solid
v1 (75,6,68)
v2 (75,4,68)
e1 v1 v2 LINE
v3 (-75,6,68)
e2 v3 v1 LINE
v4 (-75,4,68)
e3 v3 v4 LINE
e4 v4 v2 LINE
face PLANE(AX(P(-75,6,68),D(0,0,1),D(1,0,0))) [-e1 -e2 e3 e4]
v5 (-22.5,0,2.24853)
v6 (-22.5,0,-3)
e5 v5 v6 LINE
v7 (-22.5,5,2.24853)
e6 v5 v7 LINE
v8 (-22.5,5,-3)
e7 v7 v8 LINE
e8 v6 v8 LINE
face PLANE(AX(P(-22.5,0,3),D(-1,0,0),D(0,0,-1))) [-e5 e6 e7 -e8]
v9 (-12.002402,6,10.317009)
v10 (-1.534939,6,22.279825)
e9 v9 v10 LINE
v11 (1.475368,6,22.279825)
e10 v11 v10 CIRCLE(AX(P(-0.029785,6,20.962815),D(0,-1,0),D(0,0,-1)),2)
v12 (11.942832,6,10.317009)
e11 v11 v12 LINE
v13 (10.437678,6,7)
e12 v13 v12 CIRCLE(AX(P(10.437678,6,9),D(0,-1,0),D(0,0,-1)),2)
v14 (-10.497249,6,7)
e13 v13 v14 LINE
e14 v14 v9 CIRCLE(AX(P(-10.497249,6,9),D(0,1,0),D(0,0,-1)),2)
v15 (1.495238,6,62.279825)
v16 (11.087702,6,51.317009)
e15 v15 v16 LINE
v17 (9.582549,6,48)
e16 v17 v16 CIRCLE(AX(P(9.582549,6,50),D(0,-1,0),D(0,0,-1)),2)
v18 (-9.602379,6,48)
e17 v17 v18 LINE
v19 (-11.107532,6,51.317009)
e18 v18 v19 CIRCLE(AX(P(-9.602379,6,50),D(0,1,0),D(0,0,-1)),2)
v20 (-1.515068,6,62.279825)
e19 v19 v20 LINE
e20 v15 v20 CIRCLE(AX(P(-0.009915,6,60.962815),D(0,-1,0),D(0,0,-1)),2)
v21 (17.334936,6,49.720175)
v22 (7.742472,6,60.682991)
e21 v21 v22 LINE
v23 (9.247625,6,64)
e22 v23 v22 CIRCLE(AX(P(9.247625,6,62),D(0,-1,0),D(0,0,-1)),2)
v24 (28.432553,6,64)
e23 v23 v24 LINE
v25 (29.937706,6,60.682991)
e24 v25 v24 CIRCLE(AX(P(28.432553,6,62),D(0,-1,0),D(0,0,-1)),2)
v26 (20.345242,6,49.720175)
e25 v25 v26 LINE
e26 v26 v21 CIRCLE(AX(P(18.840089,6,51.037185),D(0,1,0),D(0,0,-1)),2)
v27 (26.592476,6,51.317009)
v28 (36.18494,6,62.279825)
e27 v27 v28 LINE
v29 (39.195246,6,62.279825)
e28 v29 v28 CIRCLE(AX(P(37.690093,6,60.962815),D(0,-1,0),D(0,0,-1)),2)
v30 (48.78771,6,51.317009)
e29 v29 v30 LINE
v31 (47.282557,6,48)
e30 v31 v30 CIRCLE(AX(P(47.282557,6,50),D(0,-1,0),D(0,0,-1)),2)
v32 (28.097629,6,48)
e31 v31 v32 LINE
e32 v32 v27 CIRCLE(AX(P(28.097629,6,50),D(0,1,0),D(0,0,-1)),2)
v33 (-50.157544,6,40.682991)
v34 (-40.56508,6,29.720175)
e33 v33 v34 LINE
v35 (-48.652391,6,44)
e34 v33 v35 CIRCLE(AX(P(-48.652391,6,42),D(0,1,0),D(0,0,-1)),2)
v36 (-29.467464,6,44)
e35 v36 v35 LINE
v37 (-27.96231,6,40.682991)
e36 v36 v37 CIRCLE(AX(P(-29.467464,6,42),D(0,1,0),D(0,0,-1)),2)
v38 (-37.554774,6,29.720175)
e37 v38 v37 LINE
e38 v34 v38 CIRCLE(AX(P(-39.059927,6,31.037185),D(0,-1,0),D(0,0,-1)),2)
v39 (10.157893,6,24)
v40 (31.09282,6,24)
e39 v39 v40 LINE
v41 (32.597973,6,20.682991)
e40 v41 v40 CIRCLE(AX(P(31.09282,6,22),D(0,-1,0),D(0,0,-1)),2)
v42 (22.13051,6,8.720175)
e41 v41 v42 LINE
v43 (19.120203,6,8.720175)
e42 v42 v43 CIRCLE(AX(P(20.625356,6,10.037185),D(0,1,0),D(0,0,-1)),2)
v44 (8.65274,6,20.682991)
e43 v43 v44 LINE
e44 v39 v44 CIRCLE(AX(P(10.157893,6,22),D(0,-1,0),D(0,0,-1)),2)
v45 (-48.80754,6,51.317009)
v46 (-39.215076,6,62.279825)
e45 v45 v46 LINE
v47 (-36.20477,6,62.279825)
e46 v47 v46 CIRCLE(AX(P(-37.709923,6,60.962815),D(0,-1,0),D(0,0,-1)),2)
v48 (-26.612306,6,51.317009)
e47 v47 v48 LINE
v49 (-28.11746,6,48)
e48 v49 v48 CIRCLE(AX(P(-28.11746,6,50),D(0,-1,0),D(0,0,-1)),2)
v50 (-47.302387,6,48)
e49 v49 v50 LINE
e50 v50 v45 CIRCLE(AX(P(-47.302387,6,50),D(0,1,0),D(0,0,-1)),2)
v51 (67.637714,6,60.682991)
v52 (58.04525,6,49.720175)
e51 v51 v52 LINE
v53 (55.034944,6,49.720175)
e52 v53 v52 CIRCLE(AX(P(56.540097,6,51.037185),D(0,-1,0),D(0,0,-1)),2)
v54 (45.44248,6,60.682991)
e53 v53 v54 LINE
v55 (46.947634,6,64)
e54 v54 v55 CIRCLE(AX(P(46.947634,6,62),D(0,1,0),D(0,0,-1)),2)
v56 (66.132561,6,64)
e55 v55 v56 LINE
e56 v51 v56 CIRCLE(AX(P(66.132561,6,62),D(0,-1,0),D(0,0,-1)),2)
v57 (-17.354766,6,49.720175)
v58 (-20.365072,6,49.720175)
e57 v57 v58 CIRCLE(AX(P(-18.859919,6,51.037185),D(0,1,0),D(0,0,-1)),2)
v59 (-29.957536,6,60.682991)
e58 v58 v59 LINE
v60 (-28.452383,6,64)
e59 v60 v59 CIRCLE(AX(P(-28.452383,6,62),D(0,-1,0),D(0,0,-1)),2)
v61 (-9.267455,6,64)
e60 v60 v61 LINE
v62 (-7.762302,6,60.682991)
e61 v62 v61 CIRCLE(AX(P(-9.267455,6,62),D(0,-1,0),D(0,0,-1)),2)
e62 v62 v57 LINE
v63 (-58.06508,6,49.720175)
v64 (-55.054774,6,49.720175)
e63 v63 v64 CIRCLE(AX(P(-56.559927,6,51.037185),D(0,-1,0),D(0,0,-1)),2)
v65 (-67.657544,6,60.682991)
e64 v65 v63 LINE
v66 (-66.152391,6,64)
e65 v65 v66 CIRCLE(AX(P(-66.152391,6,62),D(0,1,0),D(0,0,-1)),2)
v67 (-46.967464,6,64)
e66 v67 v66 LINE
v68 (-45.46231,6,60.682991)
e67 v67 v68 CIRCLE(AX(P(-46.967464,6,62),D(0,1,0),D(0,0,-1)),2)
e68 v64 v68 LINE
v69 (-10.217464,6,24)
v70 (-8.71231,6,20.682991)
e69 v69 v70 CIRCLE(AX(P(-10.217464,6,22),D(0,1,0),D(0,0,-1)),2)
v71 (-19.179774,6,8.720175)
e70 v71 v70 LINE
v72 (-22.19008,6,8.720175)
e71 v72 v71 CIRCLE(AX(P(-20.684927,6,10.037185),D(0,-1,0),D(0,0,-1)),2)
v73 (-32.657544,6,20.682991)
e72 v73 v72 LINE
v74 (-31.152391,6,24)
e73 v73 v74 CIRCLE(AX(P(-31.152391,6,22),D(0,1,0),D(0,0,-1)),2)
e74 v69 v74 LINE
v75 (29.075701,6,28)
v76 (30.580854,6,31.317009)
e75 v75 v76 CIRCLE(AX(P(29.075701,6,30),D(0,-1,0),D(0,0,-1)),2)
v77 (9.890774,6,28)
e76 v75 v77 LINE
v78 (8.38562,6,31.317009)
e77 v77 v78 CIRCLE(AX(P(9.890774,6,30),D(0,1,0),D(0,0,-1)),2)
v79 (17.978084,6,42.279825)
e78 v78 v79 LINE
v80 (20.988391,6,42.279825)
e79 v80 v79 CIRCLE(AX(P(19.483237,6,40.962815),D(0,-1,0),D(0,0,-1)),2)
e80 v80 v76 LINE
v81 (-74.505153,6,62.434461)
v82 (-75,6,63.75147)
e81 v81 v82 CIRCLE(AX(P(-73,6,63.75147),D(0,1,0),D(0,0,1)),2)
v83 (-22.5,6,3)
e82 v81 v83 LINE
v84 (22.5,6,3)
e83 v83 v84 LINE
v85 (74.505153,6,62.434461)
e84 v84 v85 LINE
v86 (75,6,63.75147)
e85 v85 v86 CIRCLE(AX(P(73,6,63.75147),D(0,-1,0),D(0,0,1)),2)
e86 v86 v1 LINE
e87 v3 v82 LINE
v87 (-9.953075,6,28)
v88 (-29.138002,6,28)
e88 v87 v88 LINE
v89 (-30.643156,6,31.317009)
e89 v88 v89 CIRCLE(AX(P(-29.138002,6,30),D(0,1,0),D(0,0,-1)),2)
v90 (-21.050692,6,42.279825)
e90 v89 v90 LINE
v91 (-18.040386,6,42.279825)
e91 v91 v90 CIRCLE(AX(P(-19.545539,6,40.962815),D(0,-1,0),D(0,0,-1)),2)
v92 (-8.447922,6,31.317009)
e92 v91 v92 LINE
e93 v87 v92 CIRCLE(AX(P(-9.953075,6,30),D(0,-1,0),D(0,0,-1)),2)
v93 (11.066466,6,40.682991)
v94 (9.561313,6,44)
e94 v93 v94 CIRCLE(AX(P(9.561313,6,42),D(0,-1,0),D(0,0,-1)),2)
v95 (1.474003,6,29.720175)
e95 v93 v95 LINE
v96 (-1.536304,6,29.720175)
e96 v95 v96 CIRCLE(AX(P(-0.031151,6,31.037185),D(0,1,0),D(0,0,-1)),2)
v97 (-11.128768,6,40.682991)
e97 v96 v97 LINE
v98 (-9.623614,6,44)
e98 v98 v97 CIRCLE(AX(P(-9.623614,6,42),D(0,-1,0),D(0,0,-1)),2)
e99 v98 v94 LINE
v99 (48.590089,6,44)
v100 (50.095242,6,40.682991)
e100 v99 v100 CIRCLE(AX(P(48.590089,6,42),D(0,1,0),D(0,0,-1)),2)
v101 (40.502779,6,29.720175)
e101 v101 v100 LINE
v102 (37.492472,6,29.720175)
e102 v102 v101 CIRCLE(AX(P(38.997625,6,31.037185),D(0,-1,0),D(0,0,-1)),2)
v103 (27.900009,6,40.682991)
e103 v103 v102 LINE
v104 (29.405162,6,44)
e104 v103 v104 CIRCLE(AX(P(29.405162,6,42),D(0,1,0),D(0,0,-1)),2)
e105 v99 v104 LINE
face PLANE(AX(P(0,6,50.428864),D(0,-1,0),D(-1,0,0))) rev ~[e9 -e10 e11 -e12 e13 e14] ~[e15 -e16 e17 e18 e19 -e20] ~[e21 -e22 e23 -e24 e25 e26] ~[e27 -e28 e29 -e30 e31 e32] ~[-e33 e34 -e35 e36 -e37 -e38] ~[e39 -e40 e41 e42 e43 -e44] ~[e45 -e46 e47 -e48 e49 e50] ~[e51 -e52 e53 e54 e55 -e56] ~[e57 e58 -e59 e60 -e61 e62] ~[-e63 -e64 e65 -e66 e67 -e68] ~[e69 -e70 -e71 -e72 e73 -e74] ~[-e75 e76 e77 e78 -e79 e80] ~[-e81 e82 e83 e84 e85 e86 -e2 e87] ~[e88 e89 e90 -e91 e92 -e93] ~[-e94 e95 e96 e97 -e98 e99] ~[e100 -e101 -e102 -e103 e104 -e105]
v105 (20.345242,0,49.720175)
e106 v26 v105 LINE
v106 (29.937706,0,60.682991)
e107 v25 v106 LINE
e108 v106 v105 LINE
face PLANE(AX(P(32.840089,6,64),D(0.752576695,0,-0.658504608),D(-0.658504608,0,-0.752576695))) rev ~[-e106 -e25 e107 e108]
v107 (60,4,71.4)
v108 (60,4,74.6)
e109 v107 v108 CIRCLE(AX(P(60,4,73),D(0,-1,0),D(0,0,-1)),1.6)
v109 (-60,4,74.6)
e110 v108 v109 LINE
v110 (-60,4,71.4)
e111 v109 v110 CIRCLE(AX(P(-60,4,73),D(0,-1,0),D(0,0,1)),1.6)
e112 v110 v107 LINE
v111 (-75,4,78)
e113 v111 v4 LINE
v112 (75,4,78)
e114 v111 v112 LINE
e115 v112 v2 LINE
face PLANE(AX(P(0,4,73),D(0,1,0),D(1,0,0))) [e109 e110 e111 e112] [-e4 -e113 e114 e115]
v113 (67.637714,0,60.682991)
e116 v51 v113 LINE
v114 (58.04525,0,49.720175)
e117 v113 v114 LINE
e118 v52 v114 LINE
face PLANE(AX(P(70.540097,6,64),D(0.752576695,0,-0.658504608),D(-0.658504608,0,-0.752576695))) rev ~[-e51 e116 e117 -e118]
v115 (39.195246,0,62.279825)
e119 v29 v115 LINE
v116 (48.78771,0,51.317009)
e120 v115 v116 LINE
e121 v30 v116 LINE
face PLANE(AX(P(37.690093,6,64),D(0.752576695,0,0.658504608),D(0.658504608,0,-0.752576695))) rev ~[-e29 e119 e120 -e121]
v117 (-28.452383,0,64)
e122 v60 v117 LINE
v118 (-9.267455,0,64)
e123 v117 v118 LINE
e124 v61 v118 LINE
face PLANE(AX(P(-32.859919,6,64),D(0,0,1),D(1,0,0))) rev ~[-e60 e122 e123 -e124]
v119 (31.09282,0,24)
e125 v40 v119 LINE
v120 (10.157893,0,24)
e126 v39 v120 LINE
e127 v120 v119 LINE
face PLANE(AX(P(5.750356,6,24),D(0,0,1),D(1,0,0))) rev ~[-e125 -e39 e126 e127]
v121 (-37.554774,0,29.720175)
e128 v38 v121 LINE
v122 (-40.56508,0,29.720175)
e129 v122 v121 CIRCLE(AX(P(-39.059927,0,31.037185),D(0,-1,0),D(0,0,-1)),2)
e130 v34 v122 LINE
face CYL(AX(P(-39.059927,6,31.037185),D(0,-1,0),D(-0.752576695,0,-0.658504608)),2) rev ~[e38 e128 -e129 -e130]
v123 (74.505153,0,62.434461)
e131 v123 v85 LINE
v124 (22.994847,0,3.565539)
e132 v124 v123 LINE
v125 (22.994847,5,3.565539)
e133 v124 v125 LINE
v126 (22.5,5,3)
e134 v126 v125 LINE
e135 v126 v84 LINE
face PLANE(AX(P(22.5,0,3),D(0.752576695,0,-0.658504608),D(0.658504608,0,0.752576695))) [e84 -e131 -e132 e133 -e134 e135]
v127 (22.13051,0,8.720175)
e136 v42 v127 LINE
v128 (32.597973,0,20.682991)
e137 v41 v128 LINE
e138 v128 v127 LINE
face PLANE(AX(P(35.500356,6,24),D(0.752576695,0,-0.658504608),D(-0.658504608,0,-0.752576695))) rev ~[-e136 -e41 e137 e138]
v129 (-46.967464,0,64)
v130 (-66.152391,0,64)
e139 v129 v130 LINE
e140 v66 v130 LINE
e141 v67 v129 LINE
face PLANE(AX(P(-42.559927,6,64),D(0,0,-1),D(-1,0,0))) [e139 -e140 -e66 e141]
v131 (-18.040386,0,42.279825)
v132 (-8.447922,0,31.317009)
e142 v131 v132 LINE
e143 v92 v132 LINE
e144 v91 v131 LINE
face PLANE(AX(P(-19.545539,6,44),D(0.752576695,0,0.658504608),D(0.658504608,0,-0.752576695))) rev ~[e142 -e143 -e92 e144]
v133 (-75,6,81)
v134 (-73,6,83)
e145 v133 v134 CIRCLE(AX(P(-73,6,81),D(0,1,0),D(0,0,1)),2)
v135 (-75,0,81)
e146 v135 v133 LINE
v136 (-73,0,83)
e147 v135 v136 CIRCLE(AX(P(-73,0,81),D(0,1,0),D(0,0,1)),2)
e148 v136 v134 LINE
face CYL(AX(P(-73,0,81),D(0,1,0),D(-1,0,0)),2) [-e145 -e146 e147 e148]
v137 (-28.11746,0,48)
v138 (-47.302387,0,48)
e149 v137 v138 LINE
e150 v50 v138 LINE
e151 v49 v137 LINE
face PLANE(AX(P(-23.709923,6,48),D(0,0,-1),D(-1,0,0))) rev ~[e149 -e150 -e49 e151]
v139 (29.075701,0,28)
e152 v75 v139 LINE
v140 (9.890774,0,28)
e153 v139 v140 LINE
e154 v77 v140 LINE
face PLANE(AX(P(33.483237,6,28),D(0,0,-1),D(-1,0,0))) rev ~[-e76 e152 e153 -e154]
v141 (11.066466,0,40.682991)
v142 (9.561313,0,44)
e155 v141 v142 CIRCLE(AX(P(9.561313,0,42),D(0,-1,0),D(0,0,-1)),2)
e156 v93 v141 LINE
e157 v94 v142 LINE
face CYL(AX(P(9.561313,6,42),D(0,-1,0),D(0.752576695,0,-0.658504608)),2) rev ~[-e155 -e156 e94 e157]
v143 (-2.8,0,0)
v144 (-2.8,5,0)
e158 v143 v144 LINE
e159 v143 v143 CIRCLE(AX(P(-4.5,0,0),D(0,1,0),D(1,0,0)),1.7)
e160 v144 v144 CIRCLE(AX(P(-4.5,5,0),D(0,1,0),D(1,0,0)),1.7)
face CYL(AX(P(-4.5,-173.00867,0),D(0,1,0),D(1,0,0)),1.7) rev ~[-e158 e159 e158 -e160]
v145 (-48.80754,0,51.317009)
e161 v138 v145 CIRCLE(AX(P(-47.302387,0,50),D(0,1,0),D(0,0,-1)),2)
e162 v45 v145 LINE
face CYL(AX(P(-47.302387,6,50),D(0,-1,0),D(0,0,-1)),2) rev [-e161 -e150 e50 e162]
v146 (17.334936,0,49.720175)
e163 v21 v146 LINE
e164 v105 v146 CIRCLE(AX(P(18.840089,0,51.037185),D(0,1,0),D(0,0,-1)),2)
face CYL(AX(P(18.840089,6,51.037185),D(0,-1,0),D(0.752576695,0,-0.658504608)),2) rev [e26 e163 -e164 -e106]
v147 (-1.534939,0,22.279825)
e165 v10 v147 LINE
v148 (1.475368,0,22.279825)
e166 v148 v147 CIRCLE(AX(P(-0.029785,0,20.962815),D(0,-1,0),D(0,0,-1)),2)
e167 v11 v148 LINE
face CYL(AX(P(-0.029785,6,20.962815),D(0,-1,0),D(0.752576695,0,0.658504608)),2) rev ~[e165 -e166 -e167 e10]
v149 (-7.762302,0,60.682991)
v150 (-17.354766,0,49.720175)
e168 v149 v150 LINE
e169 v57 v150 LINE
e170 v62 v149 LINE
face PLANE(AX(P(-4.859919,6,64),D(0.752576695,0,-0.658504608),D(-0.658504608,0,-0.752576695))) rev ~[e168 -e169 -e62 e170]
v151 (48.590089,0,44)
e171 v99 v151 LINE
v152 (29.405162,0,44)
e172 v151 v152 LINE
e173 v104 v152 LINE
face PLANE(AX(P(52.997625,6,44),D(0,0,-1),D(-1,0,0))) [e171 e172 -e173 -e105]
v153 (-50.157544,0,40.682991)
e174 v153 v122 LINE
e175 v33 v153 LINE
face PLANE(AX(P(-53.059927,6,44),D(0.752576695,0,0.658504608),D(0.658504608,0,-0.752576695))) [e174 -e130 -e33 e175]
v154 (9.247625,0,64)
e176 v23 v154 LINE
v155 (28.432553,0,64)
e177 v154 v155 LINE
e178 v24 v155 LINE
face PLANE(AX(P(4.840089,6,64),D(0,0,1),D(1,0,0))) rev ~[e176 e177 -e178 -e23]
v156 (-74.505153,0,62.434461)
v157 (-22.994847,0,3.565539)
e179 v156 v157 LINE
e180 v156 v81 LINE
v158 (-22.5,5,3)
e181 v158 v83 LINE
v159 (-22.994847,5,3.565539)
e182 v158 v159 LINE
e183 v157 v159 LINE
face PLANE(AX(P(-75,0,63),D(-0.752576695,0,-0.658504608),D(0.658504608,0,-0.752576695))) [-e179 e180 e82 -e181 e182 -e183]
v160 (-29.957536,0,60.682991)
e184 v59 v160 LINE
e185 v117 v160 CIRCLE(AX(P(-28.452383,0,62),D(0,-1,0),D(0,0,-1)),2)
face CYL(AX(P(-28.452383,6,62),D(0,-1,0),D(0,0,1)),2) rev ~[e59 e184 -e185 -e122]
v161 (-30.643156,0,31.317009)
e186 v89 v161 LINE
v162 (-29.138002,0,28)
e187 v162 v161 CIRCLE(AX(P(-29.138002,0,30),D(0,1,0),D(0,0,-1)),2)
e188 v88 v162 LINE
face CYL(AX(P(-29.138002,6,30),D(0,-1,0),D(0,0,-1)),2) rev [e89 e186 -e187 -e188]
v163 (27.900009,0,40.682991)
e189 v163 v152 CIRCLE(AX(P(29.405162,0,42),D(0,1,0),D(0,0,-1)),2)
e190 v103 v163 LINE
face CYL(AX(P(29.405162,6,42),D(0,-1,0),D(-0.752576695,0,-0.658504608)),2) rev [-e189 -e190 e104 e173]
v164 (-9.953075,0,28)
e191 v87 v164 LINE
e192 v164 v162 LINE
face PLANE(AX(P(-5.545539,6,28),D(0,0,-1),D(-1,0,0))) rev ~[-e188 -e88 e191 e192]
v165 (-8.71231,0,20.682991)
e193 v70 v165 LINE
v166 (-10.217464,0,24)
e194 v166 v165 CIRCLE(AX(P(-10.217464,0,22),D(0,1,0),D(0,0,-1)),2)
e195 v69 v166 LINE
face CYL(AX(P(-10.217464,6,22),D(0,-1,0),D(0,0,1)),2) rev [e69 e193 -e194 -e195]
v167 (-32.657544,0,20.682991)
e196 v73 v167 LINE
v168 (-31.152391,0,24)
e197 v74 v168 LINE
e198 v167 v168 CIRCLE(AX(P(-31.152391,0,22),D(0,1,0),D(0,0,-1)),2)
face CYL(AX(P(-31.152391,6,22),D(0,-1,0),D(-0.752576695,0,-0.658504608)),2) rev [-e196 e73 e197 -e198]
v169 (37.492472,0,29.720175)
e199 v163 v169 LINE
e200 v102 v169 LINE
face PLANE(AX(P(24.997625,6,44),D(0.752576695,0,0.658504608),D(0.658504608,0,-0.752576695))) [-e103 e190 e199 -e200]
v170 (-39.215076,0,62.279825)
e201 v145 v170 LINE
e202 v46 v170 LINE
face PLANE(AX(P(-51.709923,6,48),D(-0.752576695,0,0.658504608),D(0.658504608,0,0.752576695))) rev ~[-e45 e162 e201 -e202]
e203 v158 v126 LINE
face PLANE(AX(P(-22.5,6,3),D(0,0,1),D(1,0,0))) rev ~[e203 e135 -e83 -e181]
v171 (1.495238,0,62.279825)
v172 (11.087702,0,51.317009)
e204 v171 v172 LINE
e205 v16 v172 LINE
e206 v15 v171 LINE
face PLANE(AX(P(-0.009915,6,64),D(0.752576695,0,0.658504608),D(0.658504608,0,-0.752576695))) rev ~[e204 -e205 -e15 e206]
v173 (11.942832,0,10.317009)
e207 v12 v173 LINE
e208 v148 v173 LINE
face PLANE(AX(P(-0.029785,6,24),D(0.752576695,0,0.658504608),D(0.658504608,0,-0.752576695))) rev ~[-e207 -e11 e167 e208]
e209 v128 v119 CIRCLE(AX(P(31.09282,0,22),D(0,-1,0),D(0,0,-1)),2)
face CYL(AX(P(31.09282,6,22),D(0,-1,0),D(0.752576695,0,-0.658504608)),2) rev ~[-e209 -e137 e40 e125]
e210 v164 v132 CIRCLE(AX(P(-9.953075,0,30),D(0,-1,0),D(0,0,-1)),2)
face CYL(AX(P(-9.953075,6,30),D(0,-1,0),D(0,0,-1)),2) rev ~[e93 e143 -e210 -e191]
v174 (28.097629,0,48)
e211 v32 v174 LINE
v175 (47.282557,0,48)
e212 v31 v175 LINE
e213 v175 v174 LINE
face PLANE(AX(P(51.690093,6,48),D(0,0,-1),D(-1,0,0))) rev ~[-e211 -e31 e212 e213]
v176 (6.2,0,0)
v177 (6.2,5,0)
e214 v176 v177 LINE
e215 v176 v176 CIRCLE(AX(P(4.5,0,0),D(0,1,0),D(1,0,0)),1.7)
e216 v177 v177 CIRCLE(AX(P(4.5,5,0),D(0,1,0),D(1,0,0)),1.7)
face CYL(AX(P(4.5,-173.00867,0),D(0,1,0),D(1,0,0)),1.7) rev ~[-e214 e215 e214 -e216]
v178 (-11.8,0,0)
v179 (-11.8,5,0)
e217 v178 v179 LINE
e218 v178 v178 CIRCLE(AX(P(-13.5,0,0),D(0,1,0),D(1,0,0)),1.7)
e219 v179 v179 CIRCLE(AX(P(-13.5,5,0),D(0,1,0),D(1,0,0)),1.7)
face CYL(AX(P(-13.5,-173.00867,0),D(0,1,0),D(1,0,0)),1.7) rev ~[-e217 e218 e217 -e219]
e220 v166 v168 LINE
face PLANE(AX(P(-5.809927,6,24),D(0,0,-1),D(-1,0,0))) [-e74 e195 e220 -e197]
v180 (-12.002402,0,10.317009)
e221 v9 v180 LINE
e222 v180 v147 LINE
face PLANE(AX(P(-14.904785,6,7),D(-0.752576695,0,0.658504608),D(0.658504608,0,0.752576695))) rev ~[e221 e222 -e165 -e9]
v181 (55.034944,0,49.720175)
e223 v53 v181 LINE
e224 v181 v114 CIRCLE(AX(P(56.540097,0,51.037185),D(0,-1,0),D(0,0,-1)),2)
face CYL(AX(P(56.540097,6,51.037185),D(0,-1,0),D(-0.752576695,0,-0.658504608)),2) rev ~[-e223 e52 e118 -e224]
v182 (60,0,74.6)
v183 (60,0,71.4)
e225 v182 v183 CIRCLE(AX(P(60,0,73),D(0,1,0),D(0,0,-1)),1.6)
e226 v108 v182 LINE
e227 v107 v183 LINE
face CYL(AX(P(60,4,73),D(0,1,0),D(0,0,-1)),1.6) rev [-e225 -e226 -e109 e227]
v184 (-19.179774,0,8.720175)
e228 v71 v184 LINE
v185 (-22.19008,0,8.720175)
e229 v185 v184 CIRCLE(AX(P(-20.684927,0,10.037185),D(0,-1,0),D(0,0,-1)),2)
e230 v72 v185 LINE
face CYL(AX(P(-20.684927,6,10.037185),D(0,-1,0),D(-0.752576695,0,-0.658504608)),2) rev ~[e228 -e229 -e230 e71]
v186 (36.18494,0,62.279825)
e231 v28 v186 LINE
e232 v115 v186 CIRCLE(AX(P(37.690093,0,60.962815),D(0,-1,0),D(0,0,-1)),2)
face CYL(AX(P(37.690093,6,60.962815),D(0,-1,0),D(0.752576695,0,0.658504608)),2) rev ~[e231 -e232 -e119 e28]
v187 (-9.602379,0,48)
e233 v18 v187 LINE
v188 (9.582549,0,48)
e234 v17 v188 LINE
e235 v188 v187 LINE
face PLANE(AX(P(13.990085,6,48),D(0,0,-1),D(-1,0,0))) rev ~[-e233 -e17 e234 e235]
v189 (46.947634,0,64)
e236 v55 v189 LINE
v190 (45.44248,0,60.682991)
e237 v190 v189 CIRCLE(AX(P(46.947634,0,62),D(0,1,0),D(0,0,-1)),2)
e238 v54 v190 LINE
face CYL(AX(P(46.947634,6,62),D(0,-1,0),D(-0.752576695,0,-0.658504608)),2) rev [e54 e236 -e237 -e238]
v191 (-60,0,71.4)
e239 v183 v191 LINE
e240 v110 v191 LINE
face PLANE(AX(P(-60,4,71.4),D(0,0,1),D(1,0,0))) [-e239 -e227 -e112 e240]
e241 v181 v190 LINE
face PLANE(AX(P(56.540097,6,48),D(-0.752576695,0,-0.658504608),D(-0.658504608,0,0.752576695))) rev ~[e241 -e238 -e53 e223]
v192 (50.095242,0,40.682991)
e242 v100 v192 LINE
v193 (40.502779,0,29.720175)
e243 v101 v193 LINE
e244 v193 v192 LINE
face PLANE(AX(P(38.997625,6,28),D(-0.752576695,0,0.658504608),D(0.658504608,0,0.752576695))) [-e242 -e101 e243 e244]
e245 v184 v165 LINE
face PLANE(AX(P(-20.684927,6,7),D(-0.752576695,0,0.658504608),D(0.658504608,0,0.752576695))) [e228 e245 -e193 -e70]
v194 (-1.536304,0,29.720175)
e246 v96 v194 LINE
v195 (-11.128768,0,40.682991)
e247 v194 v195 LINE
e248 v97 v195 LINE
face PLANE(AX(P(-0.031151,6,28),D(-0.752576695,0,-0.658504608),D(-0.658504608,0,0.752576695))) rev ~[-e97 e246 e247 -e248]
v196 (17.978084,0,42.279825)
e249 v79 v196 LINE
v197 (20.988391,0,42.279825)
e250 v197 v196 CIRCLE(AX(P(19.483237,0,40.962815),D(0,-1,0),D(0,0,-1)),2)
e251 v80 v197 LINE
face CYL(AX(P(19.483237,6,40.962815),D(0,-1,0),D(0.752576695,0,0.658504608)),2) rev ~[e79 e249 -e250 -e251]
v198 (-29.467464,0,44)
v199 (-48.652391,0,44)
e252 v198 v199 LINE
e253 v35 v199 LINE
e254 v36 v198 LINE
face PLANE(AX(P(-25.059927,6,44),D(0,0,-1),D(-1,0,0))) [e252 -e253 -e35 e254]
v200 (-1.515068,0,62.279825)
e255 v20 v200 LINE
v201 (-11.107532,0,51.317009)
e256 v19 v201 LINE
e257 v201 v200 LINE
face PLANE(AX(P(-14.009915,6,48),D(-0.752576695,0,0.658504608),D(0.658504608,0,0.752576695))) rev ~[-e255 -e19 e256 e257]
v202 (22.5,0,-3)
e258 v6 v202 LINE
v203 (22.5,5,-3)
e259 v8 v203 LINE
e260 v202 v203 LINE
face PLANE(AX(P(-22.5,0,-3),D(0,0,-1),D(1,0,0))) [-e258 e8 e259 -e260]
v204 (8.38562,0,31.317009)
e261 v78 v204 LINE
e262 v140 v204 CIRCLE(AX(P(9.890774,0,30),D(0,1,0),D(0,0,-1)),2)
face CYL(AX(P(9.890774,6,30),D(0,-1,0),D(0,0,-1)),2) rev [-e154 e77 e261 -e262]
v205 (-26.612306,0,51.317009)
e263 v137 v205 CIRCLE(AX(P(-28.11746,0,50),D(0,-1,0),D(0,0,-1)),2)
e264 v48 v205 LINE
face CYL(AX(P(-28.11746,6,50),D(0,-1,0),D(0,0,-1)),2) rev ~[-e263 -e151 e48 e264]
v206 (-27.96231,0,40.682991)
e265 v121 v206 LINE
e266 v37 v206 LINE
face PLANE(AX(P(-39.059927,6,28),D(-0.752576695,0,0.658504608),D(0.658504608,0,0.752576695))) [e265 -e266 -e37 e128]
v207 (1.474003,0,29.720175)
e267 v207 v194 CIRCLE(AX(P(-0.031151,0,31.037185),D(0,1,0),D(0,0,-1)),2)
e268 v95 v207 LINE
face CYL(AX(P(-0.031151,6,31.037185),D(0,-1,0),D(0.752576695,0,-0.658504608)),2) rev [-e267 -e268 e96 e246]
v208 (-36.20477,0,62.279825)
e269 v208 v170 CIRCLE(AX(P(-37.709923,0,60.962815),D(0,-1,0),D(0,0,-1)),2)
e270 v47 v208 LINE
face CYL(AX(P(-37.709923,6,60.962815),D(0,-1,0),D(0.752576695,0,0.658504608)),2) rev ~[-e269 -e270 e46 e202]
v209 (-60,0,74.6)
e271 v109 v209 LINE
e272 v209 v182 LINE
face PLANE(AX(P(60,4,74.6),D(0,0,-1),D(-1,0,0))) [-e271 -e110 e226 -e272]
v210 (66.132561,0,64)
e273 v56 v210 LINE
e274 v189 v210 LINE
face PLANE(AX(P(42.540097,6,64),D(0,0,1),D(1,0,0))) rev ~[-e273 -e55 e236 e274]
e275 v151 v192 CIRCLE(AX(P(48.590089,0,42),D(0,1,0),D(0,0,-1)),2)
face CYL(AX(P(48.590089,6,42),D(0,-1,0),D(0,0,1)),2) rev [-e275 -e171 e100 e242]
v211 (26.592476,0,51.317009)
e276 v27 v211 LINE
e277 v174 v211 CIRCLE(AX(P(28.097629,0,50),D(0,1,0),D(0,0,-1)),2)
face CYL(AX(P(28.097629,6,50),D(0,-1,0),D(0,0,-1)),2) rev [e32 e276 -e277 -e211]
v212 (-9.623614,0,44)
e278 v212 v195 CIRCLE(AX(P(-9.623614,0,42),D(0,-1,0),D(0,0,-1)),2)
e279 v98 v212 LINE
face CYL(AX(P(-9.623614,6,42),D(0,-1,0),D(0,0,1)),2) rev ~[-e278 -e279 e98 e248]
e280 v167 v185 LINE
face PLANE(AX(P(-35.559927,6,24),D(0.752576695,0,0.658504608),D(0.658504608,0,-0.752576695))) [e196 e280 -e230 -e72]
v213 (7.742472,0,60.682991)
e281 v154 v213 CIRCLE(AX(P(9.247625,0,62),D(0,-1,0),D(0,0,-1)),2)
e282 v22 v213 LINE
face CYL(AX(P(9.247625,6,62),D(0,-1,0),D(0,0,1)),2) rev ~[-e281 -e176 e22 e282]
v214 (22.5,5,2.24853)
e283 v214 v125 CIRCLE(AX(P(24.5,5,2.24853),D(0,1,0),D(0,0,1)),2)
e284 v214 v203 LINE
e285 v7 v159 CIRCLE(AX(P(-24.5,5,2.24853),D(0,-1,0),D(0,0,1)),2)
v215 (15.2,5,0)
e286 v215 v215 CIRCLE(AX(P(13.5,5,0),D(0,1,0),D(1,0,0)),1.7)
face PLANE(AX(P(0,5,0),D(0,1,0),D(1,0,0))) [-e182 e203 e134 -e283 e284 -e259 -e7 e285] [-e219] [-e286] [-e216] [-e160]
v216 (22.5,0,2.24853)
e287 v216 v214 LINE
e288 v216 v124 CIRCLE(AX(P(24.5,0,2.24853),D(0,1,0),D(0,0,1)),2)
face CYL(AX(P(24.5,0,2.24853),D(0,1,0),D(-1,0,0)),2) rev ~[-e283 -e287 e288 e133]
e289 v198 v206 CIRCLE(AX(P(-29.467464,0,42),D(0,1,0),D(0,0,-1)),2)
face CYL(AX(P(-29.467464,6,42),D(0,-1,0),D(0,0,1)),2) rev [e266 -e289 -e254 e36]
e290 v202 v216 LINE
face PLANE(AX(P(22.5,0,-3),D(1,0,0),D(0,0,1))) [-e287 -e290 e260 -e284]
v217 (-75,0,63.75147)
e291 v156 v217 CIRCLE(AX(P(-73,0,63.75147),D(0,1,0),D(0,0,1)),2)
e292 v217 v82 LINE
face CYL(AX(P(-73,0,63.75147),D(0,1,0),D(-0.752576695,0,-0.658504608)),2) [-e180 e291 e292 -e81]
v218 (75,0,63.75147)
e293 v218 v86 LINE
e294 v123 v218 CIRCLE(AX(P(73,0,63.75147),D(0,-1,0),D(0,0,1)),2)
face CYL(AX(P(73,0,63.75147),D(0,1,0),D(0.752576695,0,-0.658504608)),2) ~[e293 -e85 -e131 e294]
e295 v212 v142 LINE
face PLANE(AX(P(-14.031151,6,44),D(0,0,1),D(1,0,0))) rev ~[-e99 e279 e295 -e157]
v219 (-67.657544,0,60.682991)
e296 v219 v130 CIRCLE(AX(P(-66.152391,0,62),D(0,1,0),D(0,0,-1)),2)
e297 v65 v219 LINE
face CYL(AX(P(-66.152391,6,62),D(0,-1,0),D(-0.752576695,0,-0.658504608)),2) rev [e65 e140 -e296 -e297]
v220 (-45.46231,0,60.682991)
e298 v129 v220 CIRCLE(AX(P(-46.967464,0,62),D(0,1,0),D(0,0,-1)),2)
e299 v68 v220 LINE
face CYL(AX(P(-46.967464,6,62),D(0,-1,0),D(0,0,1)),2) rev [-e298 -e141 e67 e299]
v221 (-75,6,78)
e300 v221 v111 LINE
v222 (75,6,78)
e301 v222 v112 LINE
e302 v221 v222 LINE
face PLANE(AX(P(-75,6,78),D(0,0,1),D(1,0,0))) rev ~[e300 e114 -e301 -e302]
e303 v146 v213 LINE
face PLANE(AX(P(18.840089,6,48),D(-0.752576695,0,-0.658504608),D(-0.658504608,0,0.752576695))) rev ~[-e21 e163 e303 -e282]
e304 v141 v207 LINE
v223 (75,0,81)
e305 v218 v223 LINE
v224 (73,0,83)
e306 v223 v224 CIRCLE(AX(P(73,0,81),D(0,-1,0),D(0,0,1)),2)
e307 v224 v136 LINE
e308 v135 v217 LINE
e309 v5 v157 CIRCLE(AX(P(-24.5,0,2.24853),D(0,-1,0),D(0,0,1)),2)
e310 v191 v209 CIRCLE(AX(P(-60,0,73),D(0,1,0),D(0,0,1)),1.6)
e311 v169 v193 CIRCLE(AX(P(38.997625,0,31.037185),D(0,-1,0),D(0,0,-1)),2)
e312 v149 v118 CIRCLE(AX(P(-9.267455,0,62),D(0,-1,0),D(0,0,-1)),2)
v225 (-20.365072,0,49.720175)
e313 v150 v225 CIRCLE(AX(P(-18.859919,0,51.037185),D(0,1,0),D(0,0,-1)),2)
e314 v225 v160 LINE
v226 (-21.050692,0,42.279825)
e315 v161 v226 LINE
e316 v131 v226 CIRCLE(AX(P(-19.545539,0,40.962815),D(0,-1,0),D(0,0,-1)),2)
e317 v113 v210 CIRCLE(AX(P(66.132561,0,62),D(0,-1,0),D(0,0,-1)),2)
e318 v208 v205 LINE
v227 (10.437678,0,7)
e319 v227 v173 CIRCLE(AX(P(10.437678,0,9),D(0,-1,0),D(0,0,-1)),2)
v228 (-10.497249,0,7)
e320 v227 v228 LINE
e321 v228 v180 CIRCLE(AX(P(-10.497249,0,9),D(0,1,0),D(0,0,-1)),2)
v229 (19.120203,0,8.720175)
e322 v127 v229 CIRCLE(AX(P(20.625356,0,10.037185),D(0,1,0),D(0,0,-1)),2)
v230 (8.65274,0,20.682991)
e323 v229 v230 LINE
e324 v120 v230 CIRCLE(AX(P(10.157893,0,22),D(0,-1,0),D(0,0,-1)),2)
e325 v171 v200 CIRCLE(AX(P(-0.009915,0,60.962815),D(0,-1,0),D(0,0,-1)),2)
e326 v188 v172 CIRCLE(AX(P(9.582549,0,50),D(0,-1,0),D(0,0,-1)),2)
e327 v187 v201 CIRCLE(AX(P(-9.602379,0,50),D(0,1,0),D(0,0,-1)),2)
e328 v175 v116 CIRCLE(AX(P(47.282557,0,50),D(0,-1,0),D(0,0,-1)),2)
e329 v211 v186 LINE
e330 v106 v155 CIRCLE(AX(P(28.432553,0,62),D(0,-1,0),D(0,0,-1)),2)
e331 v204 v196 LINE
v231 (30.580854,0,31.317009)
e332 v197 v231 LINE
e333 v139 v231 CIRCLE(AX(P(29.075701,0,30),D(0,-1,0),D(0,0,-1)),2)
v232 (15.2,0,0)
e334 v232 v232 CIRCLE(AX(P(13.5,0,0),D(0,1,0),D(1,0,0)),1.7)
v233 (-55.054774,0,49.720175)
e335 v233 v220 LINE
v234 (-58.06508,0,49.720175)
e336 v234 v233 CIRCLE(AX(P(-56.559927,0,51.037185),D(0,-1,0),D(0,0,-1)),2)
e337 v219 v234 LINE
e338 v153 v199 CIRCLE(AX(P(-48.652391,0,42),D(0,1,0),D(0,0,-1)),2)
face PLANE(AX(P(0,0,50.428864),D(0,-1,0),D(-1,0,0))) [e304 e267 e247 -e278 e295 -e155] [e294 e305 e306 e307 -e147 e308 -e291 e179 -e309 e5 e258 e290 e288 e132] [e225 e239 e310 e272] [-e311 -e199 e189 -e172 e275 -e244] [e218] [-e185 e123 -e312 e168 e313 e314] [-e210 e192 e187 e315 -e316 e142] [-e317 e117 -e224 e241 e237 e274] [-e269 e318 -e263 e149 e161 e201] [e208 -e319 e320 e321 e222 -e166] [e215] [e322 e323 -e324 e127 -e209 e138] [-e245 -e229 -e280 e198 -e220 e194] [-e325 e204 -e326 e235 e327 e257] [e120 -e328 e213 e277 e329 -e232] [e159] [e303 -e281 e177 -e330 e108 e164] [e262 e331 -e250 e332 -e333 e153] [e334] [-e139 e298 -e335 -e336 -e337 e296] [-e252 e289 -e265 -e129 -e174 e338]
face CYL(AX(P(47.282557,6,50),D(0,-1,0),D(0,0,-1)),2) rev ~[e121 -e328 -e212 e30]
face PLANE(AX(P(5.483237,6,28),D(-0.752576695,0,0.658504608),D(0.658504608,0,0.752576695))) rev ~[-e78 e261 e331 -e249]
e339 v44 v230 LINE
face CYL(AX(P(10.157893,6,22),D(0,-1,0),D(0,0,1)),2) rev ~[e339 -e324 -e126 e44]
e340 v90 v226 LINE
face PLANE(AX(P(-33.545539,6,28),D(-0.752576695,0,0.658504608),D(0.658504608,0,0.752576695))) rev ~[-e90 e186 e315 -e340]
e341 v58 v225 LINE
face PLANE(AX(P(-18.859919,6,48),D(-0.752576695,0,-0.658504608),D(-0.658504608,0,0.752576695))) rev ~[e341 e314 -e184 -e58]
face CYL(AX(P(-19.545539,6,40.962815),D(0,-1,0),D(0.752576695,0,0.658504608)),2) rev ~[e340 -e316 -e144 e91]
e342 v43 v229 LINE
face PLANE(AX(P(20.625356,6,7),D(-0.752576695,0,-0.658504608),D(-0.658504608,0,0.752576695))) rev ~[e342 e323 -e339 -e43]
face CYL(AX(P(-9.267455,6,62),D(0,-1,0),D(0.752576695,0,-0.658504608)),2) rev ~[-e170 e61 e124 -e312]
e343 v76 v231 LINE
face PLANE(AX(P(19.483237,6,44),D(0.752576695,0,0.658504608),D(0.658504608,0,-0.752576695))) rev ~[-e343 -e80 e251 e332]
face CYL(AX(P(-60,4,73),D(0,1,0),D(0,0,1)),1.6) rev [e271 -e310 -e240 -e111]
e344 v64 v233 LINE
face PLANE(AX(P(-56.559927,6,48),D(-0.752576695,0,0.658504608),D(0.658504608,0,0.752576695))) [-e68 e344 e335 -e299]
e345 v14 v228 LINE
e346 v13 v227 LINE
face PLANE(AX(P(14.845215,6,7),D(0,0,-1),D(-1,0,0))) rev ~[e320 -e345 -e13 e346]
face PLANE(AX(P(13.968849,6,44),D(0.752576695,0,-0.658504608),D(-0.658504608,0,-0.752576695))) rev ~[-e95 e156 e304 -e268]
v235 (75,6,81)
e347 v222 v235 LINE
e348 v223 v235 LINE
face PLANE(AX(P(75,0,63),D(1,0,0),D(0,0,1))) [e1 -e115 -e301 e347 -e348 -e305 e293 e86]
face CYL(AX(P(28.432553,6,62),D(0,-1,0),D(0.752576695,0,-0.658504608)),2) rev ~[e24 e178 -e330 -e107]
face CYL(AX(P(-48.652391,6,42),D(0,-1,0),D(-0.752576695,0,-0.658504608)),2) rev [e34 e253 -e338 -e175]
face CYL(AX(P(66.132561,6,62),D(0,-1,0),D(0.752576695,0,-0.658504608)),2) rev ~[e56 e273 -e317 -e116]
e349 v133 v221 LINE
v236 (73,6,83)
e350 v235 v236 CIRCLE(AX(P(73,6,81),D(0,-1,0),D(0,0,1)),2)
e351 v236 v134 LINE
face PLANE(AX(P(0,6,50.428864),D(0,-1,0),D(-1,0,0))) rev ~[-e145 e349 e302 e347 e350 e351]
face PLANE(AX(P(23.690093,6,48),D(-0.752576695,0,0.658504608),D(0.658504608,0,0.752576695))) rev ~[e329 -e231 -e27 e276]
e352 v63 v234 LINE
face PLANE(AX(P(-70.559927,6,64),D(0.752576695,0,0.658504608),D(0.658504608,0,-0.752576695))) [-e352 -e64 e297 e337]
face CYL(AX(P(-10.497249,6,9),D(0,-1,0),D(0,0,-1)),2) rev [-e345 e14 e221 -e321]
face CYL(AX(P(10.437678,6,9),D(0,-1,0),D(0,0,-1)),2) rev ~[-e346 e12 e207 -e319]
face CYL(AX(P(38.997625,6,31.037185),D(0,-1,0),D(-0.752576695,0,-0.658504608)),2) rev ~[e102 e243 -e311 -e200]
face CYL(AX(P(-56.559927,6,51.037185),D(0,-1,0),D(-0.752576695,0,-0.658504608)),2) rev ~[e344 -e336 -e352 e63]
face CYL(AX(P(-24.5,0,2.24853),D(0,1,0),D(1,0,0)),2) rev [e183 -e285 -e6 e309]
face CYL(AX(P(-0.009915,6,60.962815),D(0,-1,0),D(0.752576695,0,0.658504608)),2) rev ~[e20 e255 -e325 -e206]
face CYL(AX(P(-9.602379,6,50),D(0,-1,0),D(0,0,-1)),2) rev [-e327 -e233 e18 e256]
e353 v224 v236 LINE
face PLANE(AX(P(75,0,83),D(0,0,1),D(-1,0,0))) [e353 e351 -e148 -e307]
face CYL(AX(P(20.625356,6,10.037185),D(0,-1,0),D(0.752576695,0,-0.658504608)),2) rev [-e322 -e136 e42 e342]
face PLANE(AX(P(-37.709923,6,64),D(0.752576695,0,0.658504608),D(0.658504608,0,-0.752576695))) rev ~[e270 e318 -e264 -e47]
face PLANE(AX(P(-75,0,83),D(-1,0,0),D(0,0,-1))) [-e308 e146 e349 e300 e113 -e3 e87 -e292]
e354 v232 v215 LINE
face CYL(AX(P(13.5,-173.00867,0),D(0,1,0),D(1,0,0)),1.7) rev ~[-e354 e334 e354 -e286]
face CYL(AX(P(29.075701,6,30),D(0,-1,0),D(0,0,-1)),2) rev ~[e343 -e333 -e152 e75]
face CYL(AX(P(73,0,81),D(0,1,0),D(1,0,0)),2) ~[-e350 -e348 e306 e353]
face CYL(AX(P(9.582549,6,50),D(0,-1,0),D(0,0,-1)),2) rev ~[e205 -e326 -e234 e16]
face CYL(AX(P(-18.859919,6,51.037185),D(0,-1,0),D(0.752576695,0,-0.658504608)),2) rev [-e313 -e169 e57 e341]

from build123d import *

# Parameters (mm, degrees)
EXTRUDE_1_DEPTH     = 6
SKETCH_2_W          = 150
SKETCH_2_H          = 10
CUT_EXTRUDE_1_DEPTH = 2
SKETCH_3_W          = 45
SKETCH_3_H          = 6
CUT_EXTRUDE_2_DEPTH = 1
HOLE_WIZARD_M31_D   = 3.4
CUT_EXTRUDE_3_DEPTH = 112.937482552
CUT_EXTRUDE_4_REACH = 114.027
FILLET_1_R          = 2


with BuildPart() as part:
    # Эскиз1 → Бобышка-Вытянуть1 (new body)
    with BuildSketch(Plane(origin=(0, 0, 0), x_dir=(1, 0, 0), z_dir=(0, 1, 0))):
        Polygon((-22.5, 3), (22.5, 3), (22.5, -3), (75, -63), (75, -83), (-75, -83), (-75, -63), (-22.5, -3), align=None)
    extrude(amount=EXTRUDE_1_DEPTH)

    # Эскиз2 → Вырез-Вытянуть1 (cut)
    with BuildSketch(Plane(origin=(0, 6, 0), x_dir=(1, 0, 0), z_dir=(0, 1, 0))):
        with Locations((0, -73)):
            Rectangle(SKETCH_2_W, SKETCH_2_H)
    extrude(amount=-CUT_EXTRUDE_1_DEPTH, mode=Mode.SUBTRACT)

    # Эскиз3 → Вырез-Вытянуть2 (cut)
    with BuildSketch(Plane(origin=(0, 6, 0), x_dir=(1, 0, 0), z_dir=(0, 1, 0))):
        Rectangle(SKETCH_3_W, SKETCH_3_H)
    extrude(amount=-CUT_EXTRUDE_2_DEPTH, mode=Mode.SUBTRACT)

    # Отверстие с зазором M31 (through all)
    with Locations(Plane(origin=(0, 0, 0), x_dir=(-1, 0, 0), z_dir=(0, -1, 0))):
        with Locations((-13.5, 0), (-4.5, 0), (4.5, 0), (13.5, 0)):
            Hole(HOLE_WIZARD_M31_D / 2)

    # Эскиз9 → Вырез-Вытянуть3 (cut, through all)
    with BuildSketch(Plane(origin=(0, 4, 0), x_dir=(1, 0, 0), z_dir=(0, 1, 0))):
        with BuildLine():
            Line((-60, -71.4), (60, -71.4))
            ThreePointArc((60, -71.4), (61.6, -73), (60, -74.6))
            Line((60, -74.6), (-60, -74.6))
            ThreePointArc((-60, -74.6), (-61.6, -73), (-60, -71.4))
        make_face()
    extrude(amount=-CUT_EXTRUDE_3_DEPTH, mode=Mode.SUBTRACT)

    # Эскиз10 → Вырез-Вытянуть4 (cut, up to next)
    with BuildSketch(Plane(origin=(0, 6, 0), x_dir=(1, 0, 0), z_dir=(0, 1, 0)), mode=Mode.PRIVATE) as cut_extrude_4_sk1:
        Polygon((-70.559927094, -64), (-56.559927094, -48), (-42.559927094, -64), align=None)
    cut_extrude_4_tool1 = extrude(cut_extrude_4_sk1.sketch, amount=-CUT_EXTRUDE_4_REACH, mode=Mode.PRIVATE) & part.part
    # Эскиз10 → Вырез-Вытянуть4 (cut, up to next)
    with BuildSketch(Plane(origin=(0, 6, 0), x_dir=(1, 0, 0), z_dir=(0, 1, 0)), mode=Mode.PRIVATE) as cut_extrude_4_sk2:
        Polygon((-51.709923067, -48), (-37.709923067, -64), (-23.709923067, -48), align=None)
    cut_extrude_4_tool2 = extrude(cut_extrude_4_sk2.sketch, amount=-CUT_EXTRUDE_4_REACH, mode=Mode.PRIVATE) & part.part
    # Эскиз10 → Вырез-Вытянуть4 (cut, up to next)
    with BuildSketch(Plane(origin=(0, 6, 0), x_dir=(1, 0, 0), z_dir=(0, 1, 0)), mode=Mode.PRIVATE) as cut_extrude_4_sk3:
        Polygon((-18.85991904, -48), (-32.85991904, -64), (-4.85991904, -64), align=None)
    cut_extrude_4_tool3 = extrude(cut_extrude_4_sk3.sketch, amount=-CUT_EXTRUDE_4_REACH, mode=Mode.PRIVATE) & part.part
    # Эскиз10 → Вырез-Вытянуть4 (cut, up to next)
    with BuildSketch(Plane(origin=(0, 6, 0), x_dir=(1, 0, 0), z_dir=(0, 1, 0)), mode=Mode.PRIVATE) as cut_extrude_4_sk4:
        Polygon((-14.009915012, -48), (-0.009915012, -64), (13.990084988, -48), align=None)
    cut_extrude_4_tool4 = extrude(cut_extrude_4_sk4.sketch, amount=-CUT_EXTRUDE_4_REACH, mode=Mode.PRIVATE) & part.part
    # Эскиз10 → Вырез-Вытянуть4 (cut, up to next)
    with BuildSketch(Plane(origin=(0, 6, 0), x_dir=(1, 0, 0), z_dir=(0, 1, 0)), mode=Mode.PRIVATE) as cut_extrude_4_sk5:
        Polygon((18.840089015, -48), (4.840089015, -64), (32.840089015, -64), align=None)
    cut_extrude_4_tool5 = extrude(cut_extrude_4_sk5.sketch, amount=-CUT_EXTRUDE_4_REACH, mode=Mode.PRIVATE) & part.part
    # Эскиз10 → Вырез-Вытянуть4 (cut, up to next)
    with BuildSketch(Plane(origin=(0, 6, 0), x_dir=(1, 0, 0), z_dir=(0, 1, 0)), mode=Mode.PRIVATE) as cut_extrude_4_sk6:
        Polygon((23.690093042, -48), (37.690093042, -64), (51.690093042, -48), align=None)
    cut_extrude_4_tool6 = extrude(cut_extrude_4_sk6.sketch, amount=-CUT_EXTRUDE_4_REACH, mode=Mode.PRIVATE) & part.part
    # Эскиз10 → Вырез-Вытянуть4 (cut, up to next)
    with BuildSketch(Plane(origin=(0, 6, 0), x_dir=(1, 0, 0), z_dir=(0, 1, 0)), mode=Mode.PRIVATE) as cut_extrude_4_sk7:
        Polygon((42.540097069, -64), (70.540097069, -64), (56.540097069, -48), align=None)
    cut_extrude_4_tool7 = extrude(cut_extrude_4_sk7.sketch, amount=-CUT_EXTRUDE_4_REACH, mode=Mode.PRIVATE) & part.part
    # Эскиз10 → Вырез-Вытянуть4 (cut, up to next)
    with BuildSketch(Plane(origin=(0, 6, 0), x_dir=(1, 0, 0), z_dir=(0, 1, 0)), mode=Mode.PRIVATE) as cut_extrude_4_sk8:
        Polygon((-53.059927094, -44), (-39.059927094, -28), (-25.059927094, -44), align=None)
    cut_extrude_4_tool8 = extrude(cut_extrude_4_sk8.sketch, amount=-CUT_EXTRUDE_4_REACH, mode=Mode.PRIVATE) & part.part
    # Эскиз10 → Вырез-Вытянуть4 (cut, up to next)
    with BuildSketch(Plane(origin=(0, 6, 0), x_dir=(1, 0, 0), z_dir=(0, 1, 0)), mode=Mode.PRIVATE) as cut_extrude_4_sk9:
        Polygon((-33.545538953, -28), (-19.545538953, -44), (-5.545538953, -28), align=None)
    cut_extrude_4_tool9 = extrude(cut_extrude_4_sk9.sketch, amount=-CUT_EXTRUDE_4_REACH, mode=Mode.PRIVATE) & part.part
    # Эскиз10 → Вырез-Вытянуть4 (cut, up to next)
    with BuildSketch(Plane(origin=(0, 6, 0), x_dir=(1, 0, 0), z_dir=(0, 1, 0)), mode=Mode.PRIVATE) as cut_extrude_4_sk10:
        Polygon((-0.031150813, -28), (-14.031150813, -44), (13.968849187, -44), align=None)
    cut_extrude_4_tool10 = extrude(cut_extrude_4_sk10.sketch, amount=-CUT_EXTRUDE_4_REACH, mode=Mode.PRIVATE) & part.part
    # Эскиз10 → Вырез-Вытянуть4 (cut, up to next)
    with BuildSketch(Plane(origin=(0, 6, 0), x_dir=(1, 0, 0), z_dir=(0, 1, 0)), mode=Mode.PRIVATE) as cut_extrude_4_sk11:
        Polygon((5.483237327, -28), (19.483237327, -44), (33.483237327, -28), align=None)
    cut_extrude_4_tool11 = extrude(cut_extrude_4_sk11.sketch, amount=-CUT_EXTRUDE_4_REACH, mode=Mode.PRIVATE) & part.part
    # Эскиз10 → Вырез-Вытянуть4 (cut, up to next)
    with BuildSketch(Plane(origin=(0, 6, 0), x_dir=(1, 0, 0), z_dir=(0, 1, 0)), mode=Mode.PRIVATE) as cut_extrude_4_sk12:
        Polygon((24.997625468, -44), (38.997625468, -28), (52.997625468, -44), align=None)
    cut_extrude_4_tool12 = extrude(cut_extrude_4_sk12.sketch, amount=-CUT_EXTRUDE_4_REACH, mode=Mode.PRIVATE) & part.part
    # Эскиз10 → Вырез-Вытянуть4 (cut, up to next)
    with BuildSketch(Plane(origin=(0, 6, 0), x_dir=(1, 0, 0), z_dir=(0, 1, 0)), mode=Mode.PRIVATE) as cut_extrude_4_sk13:
        Polygon((-35.559927094, -24), (-20.684927094, -7), (-5.809927094, -24), align=None)
    cut_extrude_4_tool13 = extrude(cut_extrude_4_sk13.sketch, amount=-CUT_EXTRUDE_4_REACH, mode=Mode.PRIVATE) & part.part
    # Эскиз10 → Вырез-Вытянуть4 (cut, up to next)
    with BuildSketch(Plane(origin=(0, 6, 0), x_dir=(1, 0, 0), z_dir=(0, 1, 0)), mode=Mode.PRIVATE) as cut_extrude_4_sk14:
        Polygon((-14.904785308, -7), (-0.029785308, -24), (14.845214692, -7), align=None)
    cut_extrude_4_tool14 = extrude(cut_extrude_4_sk14.sketch, amount=-CUT_EXTRUDE_4_REACH, mode=Mode.PRIVATE) & part.part
    # Эскиз10 → Вырез-Вытянуть4 (cut, up to next)
    with BuildSketch(Plane(origin=(0, 6, 0), x_dir=(1, 0, 0), z_dir=(0, 1, 0)), mode=Mode.PRIVATE) as cut_extrude_4_sk15:
        Polygon((20.625356478, -7), (5.750356478, -24), (35.500356478, -24), align=None)
    cut_extrude_4_tool15 = extrude(cut_extrude_4_sk15.sketch, amount=-CUT_EXTRUDE_4_REACH, mode=Mode.PRIVATE) & part.part
    add(cut_extrude_4_tool1.solids().sort_by_distance((-56.559927, 6, 58.666667))[0], mode=Mode.SUBTRACT)
    add(cut_extrude_4_tool2.solids().sort_by_distance((-37.709923, 6, 53.333333))[0], mode=Mode.SUBTRACT)
    add(cut_extrude_4_tool3.solids().sort_by_distance((-18.859919, 6, 58.666667))[0], mode=Mode.SUBTRACT)
    add(cut_extrude_4_tool4.solids().sort_by_distance((-0.009915, 6, 53.333333))[0], mode=Mode.SUBTRACT)
    add(cut_extrude_4_tool5.solids().sort_by_distance((18.840089, 6, 58.666667))[0], mode=Mode.SUBTRACT)
    add(cut_extrude_4_tool6.solids().sort_by_distance((37.690093, 6, 53.333333))[0], mode=Mode.SUBTRACT)
    add(cut_extrude_4_tool7.solids().sort_by_distance((56.540097, 6, 58.666667))[0], mode=Mode.SUBTRACT)
    add(cut_extrude_4_tool8.solids().sort_by_distance((-39.059927, 6, 38.666667))[0], mode=Mode.SUBTRACT)
    add(cut_extrude_4_tool9.solids().sort_by_distance((-19.545539, 6, 33.333333))[0], mode=Mode.SUBTRACT)
    add(cut_extrude_4_tool10.solids().sort_by_distance((-0.031151, 6, 38.666667))[0], mode=Mode.SUBTRACT)
    add(cut_extrude_4_tool11.solids().sort_by_distance((19.483237, 6, 33.333333))[0], mode=Mode.SUBTRACT)
    add(cut_extrude_4_tool12.solids().sort_by_distance((38.997625, 6, 38.666667))[0], mode=Mode.SUBTRACT)
    add(cut_extrude_4_tool13.solids().sort_by_distance((-20.684927, 6, 18.333333))[0], mode=Mode.SUBTRACT)
    add(cut_extrude_4_tool14.solids().sort_by_distance((-0.029785, 6, 12.666667))[0], mode=Mode.SUBTRACT)
    add(cut_extrude_4_tool15.solids().sort_by_distance((20.625356, 6, 18.333333))[0], mode=Mode.SUBTRACT)

    # Скругление1
    fillet_1_edges = [part.edges().sort_by_distance(p)[0] for p in [
        (-51.709923067, 3, 48),
        (-23.709923067, 3, 48),
        (-37.709923067, 3, 64),
        (-18.85991904, 3, 48),
        (-4.85991904, 3, 64),
        (-32.85991904, 3, 64),
        (-14.009915012, 3, 48),
        (13.990084988, 3, 48),
        (-0.009915012, 3, 64),
        (75, 3, 63),
        (18.840089015, 3, 48),
        (32.840089015, 3, 64),
        (4.840089015, 3, 64),
        (75, 3, 83),
        (-75, 3, 83),
        (-75, 3, 63),
        (23.690093042, 3, 48),
        (51.690093042, 3, 48),
        (37.690093042, 3, 64),
        (-25.059927094, 3, 44),
        (-53.059927094, 3, 44),
        (-39.059927094, 3, 28),
        (42.540097069, 3, 64),
        (56.540097069, 3, 48),
        (70.540097069, 3, 64),
        (-33.545538953, 3, 28),
        (-5.545538953, 3, 28),
        (-19.545538953, 3, 44),
        (-0.031150813, 3, 28),
        (13.968849187, 3, 44),
        (-14.031150813, 3, 44),
        (5.483237327, 3, 28),
        (33.483237327, 3, 28),
        (19.483237327, 3, 44),
        (52.997625468, 3, 44),
        (24.997625468, 3, 44),
        (38.997625468, 3, 28),
        (-5.809927094, 3, 24),
        (-35.559927094, 3, 24),
        (-20.684927094, 3, 7),
        (-14.904785308, 3, 7),
        (14.845214692, 3, 7),
        (-0.029785308, 3, 24),
        (20.625356478, 3, 7),
        (35.500356478, 3, 24),
        (5.750356478, 3, 24),
        (-22.5, 2.5, 3),
        (22.5, 2.5, 3),
        (-42.559927094, 3, 64),
        (-70.559927094, 3, 64),
        (-56.559927094, 3, 48),
    ]]
    fillet(fillet_1_edges, radius=FILLET_1_R)


solid = part.part
